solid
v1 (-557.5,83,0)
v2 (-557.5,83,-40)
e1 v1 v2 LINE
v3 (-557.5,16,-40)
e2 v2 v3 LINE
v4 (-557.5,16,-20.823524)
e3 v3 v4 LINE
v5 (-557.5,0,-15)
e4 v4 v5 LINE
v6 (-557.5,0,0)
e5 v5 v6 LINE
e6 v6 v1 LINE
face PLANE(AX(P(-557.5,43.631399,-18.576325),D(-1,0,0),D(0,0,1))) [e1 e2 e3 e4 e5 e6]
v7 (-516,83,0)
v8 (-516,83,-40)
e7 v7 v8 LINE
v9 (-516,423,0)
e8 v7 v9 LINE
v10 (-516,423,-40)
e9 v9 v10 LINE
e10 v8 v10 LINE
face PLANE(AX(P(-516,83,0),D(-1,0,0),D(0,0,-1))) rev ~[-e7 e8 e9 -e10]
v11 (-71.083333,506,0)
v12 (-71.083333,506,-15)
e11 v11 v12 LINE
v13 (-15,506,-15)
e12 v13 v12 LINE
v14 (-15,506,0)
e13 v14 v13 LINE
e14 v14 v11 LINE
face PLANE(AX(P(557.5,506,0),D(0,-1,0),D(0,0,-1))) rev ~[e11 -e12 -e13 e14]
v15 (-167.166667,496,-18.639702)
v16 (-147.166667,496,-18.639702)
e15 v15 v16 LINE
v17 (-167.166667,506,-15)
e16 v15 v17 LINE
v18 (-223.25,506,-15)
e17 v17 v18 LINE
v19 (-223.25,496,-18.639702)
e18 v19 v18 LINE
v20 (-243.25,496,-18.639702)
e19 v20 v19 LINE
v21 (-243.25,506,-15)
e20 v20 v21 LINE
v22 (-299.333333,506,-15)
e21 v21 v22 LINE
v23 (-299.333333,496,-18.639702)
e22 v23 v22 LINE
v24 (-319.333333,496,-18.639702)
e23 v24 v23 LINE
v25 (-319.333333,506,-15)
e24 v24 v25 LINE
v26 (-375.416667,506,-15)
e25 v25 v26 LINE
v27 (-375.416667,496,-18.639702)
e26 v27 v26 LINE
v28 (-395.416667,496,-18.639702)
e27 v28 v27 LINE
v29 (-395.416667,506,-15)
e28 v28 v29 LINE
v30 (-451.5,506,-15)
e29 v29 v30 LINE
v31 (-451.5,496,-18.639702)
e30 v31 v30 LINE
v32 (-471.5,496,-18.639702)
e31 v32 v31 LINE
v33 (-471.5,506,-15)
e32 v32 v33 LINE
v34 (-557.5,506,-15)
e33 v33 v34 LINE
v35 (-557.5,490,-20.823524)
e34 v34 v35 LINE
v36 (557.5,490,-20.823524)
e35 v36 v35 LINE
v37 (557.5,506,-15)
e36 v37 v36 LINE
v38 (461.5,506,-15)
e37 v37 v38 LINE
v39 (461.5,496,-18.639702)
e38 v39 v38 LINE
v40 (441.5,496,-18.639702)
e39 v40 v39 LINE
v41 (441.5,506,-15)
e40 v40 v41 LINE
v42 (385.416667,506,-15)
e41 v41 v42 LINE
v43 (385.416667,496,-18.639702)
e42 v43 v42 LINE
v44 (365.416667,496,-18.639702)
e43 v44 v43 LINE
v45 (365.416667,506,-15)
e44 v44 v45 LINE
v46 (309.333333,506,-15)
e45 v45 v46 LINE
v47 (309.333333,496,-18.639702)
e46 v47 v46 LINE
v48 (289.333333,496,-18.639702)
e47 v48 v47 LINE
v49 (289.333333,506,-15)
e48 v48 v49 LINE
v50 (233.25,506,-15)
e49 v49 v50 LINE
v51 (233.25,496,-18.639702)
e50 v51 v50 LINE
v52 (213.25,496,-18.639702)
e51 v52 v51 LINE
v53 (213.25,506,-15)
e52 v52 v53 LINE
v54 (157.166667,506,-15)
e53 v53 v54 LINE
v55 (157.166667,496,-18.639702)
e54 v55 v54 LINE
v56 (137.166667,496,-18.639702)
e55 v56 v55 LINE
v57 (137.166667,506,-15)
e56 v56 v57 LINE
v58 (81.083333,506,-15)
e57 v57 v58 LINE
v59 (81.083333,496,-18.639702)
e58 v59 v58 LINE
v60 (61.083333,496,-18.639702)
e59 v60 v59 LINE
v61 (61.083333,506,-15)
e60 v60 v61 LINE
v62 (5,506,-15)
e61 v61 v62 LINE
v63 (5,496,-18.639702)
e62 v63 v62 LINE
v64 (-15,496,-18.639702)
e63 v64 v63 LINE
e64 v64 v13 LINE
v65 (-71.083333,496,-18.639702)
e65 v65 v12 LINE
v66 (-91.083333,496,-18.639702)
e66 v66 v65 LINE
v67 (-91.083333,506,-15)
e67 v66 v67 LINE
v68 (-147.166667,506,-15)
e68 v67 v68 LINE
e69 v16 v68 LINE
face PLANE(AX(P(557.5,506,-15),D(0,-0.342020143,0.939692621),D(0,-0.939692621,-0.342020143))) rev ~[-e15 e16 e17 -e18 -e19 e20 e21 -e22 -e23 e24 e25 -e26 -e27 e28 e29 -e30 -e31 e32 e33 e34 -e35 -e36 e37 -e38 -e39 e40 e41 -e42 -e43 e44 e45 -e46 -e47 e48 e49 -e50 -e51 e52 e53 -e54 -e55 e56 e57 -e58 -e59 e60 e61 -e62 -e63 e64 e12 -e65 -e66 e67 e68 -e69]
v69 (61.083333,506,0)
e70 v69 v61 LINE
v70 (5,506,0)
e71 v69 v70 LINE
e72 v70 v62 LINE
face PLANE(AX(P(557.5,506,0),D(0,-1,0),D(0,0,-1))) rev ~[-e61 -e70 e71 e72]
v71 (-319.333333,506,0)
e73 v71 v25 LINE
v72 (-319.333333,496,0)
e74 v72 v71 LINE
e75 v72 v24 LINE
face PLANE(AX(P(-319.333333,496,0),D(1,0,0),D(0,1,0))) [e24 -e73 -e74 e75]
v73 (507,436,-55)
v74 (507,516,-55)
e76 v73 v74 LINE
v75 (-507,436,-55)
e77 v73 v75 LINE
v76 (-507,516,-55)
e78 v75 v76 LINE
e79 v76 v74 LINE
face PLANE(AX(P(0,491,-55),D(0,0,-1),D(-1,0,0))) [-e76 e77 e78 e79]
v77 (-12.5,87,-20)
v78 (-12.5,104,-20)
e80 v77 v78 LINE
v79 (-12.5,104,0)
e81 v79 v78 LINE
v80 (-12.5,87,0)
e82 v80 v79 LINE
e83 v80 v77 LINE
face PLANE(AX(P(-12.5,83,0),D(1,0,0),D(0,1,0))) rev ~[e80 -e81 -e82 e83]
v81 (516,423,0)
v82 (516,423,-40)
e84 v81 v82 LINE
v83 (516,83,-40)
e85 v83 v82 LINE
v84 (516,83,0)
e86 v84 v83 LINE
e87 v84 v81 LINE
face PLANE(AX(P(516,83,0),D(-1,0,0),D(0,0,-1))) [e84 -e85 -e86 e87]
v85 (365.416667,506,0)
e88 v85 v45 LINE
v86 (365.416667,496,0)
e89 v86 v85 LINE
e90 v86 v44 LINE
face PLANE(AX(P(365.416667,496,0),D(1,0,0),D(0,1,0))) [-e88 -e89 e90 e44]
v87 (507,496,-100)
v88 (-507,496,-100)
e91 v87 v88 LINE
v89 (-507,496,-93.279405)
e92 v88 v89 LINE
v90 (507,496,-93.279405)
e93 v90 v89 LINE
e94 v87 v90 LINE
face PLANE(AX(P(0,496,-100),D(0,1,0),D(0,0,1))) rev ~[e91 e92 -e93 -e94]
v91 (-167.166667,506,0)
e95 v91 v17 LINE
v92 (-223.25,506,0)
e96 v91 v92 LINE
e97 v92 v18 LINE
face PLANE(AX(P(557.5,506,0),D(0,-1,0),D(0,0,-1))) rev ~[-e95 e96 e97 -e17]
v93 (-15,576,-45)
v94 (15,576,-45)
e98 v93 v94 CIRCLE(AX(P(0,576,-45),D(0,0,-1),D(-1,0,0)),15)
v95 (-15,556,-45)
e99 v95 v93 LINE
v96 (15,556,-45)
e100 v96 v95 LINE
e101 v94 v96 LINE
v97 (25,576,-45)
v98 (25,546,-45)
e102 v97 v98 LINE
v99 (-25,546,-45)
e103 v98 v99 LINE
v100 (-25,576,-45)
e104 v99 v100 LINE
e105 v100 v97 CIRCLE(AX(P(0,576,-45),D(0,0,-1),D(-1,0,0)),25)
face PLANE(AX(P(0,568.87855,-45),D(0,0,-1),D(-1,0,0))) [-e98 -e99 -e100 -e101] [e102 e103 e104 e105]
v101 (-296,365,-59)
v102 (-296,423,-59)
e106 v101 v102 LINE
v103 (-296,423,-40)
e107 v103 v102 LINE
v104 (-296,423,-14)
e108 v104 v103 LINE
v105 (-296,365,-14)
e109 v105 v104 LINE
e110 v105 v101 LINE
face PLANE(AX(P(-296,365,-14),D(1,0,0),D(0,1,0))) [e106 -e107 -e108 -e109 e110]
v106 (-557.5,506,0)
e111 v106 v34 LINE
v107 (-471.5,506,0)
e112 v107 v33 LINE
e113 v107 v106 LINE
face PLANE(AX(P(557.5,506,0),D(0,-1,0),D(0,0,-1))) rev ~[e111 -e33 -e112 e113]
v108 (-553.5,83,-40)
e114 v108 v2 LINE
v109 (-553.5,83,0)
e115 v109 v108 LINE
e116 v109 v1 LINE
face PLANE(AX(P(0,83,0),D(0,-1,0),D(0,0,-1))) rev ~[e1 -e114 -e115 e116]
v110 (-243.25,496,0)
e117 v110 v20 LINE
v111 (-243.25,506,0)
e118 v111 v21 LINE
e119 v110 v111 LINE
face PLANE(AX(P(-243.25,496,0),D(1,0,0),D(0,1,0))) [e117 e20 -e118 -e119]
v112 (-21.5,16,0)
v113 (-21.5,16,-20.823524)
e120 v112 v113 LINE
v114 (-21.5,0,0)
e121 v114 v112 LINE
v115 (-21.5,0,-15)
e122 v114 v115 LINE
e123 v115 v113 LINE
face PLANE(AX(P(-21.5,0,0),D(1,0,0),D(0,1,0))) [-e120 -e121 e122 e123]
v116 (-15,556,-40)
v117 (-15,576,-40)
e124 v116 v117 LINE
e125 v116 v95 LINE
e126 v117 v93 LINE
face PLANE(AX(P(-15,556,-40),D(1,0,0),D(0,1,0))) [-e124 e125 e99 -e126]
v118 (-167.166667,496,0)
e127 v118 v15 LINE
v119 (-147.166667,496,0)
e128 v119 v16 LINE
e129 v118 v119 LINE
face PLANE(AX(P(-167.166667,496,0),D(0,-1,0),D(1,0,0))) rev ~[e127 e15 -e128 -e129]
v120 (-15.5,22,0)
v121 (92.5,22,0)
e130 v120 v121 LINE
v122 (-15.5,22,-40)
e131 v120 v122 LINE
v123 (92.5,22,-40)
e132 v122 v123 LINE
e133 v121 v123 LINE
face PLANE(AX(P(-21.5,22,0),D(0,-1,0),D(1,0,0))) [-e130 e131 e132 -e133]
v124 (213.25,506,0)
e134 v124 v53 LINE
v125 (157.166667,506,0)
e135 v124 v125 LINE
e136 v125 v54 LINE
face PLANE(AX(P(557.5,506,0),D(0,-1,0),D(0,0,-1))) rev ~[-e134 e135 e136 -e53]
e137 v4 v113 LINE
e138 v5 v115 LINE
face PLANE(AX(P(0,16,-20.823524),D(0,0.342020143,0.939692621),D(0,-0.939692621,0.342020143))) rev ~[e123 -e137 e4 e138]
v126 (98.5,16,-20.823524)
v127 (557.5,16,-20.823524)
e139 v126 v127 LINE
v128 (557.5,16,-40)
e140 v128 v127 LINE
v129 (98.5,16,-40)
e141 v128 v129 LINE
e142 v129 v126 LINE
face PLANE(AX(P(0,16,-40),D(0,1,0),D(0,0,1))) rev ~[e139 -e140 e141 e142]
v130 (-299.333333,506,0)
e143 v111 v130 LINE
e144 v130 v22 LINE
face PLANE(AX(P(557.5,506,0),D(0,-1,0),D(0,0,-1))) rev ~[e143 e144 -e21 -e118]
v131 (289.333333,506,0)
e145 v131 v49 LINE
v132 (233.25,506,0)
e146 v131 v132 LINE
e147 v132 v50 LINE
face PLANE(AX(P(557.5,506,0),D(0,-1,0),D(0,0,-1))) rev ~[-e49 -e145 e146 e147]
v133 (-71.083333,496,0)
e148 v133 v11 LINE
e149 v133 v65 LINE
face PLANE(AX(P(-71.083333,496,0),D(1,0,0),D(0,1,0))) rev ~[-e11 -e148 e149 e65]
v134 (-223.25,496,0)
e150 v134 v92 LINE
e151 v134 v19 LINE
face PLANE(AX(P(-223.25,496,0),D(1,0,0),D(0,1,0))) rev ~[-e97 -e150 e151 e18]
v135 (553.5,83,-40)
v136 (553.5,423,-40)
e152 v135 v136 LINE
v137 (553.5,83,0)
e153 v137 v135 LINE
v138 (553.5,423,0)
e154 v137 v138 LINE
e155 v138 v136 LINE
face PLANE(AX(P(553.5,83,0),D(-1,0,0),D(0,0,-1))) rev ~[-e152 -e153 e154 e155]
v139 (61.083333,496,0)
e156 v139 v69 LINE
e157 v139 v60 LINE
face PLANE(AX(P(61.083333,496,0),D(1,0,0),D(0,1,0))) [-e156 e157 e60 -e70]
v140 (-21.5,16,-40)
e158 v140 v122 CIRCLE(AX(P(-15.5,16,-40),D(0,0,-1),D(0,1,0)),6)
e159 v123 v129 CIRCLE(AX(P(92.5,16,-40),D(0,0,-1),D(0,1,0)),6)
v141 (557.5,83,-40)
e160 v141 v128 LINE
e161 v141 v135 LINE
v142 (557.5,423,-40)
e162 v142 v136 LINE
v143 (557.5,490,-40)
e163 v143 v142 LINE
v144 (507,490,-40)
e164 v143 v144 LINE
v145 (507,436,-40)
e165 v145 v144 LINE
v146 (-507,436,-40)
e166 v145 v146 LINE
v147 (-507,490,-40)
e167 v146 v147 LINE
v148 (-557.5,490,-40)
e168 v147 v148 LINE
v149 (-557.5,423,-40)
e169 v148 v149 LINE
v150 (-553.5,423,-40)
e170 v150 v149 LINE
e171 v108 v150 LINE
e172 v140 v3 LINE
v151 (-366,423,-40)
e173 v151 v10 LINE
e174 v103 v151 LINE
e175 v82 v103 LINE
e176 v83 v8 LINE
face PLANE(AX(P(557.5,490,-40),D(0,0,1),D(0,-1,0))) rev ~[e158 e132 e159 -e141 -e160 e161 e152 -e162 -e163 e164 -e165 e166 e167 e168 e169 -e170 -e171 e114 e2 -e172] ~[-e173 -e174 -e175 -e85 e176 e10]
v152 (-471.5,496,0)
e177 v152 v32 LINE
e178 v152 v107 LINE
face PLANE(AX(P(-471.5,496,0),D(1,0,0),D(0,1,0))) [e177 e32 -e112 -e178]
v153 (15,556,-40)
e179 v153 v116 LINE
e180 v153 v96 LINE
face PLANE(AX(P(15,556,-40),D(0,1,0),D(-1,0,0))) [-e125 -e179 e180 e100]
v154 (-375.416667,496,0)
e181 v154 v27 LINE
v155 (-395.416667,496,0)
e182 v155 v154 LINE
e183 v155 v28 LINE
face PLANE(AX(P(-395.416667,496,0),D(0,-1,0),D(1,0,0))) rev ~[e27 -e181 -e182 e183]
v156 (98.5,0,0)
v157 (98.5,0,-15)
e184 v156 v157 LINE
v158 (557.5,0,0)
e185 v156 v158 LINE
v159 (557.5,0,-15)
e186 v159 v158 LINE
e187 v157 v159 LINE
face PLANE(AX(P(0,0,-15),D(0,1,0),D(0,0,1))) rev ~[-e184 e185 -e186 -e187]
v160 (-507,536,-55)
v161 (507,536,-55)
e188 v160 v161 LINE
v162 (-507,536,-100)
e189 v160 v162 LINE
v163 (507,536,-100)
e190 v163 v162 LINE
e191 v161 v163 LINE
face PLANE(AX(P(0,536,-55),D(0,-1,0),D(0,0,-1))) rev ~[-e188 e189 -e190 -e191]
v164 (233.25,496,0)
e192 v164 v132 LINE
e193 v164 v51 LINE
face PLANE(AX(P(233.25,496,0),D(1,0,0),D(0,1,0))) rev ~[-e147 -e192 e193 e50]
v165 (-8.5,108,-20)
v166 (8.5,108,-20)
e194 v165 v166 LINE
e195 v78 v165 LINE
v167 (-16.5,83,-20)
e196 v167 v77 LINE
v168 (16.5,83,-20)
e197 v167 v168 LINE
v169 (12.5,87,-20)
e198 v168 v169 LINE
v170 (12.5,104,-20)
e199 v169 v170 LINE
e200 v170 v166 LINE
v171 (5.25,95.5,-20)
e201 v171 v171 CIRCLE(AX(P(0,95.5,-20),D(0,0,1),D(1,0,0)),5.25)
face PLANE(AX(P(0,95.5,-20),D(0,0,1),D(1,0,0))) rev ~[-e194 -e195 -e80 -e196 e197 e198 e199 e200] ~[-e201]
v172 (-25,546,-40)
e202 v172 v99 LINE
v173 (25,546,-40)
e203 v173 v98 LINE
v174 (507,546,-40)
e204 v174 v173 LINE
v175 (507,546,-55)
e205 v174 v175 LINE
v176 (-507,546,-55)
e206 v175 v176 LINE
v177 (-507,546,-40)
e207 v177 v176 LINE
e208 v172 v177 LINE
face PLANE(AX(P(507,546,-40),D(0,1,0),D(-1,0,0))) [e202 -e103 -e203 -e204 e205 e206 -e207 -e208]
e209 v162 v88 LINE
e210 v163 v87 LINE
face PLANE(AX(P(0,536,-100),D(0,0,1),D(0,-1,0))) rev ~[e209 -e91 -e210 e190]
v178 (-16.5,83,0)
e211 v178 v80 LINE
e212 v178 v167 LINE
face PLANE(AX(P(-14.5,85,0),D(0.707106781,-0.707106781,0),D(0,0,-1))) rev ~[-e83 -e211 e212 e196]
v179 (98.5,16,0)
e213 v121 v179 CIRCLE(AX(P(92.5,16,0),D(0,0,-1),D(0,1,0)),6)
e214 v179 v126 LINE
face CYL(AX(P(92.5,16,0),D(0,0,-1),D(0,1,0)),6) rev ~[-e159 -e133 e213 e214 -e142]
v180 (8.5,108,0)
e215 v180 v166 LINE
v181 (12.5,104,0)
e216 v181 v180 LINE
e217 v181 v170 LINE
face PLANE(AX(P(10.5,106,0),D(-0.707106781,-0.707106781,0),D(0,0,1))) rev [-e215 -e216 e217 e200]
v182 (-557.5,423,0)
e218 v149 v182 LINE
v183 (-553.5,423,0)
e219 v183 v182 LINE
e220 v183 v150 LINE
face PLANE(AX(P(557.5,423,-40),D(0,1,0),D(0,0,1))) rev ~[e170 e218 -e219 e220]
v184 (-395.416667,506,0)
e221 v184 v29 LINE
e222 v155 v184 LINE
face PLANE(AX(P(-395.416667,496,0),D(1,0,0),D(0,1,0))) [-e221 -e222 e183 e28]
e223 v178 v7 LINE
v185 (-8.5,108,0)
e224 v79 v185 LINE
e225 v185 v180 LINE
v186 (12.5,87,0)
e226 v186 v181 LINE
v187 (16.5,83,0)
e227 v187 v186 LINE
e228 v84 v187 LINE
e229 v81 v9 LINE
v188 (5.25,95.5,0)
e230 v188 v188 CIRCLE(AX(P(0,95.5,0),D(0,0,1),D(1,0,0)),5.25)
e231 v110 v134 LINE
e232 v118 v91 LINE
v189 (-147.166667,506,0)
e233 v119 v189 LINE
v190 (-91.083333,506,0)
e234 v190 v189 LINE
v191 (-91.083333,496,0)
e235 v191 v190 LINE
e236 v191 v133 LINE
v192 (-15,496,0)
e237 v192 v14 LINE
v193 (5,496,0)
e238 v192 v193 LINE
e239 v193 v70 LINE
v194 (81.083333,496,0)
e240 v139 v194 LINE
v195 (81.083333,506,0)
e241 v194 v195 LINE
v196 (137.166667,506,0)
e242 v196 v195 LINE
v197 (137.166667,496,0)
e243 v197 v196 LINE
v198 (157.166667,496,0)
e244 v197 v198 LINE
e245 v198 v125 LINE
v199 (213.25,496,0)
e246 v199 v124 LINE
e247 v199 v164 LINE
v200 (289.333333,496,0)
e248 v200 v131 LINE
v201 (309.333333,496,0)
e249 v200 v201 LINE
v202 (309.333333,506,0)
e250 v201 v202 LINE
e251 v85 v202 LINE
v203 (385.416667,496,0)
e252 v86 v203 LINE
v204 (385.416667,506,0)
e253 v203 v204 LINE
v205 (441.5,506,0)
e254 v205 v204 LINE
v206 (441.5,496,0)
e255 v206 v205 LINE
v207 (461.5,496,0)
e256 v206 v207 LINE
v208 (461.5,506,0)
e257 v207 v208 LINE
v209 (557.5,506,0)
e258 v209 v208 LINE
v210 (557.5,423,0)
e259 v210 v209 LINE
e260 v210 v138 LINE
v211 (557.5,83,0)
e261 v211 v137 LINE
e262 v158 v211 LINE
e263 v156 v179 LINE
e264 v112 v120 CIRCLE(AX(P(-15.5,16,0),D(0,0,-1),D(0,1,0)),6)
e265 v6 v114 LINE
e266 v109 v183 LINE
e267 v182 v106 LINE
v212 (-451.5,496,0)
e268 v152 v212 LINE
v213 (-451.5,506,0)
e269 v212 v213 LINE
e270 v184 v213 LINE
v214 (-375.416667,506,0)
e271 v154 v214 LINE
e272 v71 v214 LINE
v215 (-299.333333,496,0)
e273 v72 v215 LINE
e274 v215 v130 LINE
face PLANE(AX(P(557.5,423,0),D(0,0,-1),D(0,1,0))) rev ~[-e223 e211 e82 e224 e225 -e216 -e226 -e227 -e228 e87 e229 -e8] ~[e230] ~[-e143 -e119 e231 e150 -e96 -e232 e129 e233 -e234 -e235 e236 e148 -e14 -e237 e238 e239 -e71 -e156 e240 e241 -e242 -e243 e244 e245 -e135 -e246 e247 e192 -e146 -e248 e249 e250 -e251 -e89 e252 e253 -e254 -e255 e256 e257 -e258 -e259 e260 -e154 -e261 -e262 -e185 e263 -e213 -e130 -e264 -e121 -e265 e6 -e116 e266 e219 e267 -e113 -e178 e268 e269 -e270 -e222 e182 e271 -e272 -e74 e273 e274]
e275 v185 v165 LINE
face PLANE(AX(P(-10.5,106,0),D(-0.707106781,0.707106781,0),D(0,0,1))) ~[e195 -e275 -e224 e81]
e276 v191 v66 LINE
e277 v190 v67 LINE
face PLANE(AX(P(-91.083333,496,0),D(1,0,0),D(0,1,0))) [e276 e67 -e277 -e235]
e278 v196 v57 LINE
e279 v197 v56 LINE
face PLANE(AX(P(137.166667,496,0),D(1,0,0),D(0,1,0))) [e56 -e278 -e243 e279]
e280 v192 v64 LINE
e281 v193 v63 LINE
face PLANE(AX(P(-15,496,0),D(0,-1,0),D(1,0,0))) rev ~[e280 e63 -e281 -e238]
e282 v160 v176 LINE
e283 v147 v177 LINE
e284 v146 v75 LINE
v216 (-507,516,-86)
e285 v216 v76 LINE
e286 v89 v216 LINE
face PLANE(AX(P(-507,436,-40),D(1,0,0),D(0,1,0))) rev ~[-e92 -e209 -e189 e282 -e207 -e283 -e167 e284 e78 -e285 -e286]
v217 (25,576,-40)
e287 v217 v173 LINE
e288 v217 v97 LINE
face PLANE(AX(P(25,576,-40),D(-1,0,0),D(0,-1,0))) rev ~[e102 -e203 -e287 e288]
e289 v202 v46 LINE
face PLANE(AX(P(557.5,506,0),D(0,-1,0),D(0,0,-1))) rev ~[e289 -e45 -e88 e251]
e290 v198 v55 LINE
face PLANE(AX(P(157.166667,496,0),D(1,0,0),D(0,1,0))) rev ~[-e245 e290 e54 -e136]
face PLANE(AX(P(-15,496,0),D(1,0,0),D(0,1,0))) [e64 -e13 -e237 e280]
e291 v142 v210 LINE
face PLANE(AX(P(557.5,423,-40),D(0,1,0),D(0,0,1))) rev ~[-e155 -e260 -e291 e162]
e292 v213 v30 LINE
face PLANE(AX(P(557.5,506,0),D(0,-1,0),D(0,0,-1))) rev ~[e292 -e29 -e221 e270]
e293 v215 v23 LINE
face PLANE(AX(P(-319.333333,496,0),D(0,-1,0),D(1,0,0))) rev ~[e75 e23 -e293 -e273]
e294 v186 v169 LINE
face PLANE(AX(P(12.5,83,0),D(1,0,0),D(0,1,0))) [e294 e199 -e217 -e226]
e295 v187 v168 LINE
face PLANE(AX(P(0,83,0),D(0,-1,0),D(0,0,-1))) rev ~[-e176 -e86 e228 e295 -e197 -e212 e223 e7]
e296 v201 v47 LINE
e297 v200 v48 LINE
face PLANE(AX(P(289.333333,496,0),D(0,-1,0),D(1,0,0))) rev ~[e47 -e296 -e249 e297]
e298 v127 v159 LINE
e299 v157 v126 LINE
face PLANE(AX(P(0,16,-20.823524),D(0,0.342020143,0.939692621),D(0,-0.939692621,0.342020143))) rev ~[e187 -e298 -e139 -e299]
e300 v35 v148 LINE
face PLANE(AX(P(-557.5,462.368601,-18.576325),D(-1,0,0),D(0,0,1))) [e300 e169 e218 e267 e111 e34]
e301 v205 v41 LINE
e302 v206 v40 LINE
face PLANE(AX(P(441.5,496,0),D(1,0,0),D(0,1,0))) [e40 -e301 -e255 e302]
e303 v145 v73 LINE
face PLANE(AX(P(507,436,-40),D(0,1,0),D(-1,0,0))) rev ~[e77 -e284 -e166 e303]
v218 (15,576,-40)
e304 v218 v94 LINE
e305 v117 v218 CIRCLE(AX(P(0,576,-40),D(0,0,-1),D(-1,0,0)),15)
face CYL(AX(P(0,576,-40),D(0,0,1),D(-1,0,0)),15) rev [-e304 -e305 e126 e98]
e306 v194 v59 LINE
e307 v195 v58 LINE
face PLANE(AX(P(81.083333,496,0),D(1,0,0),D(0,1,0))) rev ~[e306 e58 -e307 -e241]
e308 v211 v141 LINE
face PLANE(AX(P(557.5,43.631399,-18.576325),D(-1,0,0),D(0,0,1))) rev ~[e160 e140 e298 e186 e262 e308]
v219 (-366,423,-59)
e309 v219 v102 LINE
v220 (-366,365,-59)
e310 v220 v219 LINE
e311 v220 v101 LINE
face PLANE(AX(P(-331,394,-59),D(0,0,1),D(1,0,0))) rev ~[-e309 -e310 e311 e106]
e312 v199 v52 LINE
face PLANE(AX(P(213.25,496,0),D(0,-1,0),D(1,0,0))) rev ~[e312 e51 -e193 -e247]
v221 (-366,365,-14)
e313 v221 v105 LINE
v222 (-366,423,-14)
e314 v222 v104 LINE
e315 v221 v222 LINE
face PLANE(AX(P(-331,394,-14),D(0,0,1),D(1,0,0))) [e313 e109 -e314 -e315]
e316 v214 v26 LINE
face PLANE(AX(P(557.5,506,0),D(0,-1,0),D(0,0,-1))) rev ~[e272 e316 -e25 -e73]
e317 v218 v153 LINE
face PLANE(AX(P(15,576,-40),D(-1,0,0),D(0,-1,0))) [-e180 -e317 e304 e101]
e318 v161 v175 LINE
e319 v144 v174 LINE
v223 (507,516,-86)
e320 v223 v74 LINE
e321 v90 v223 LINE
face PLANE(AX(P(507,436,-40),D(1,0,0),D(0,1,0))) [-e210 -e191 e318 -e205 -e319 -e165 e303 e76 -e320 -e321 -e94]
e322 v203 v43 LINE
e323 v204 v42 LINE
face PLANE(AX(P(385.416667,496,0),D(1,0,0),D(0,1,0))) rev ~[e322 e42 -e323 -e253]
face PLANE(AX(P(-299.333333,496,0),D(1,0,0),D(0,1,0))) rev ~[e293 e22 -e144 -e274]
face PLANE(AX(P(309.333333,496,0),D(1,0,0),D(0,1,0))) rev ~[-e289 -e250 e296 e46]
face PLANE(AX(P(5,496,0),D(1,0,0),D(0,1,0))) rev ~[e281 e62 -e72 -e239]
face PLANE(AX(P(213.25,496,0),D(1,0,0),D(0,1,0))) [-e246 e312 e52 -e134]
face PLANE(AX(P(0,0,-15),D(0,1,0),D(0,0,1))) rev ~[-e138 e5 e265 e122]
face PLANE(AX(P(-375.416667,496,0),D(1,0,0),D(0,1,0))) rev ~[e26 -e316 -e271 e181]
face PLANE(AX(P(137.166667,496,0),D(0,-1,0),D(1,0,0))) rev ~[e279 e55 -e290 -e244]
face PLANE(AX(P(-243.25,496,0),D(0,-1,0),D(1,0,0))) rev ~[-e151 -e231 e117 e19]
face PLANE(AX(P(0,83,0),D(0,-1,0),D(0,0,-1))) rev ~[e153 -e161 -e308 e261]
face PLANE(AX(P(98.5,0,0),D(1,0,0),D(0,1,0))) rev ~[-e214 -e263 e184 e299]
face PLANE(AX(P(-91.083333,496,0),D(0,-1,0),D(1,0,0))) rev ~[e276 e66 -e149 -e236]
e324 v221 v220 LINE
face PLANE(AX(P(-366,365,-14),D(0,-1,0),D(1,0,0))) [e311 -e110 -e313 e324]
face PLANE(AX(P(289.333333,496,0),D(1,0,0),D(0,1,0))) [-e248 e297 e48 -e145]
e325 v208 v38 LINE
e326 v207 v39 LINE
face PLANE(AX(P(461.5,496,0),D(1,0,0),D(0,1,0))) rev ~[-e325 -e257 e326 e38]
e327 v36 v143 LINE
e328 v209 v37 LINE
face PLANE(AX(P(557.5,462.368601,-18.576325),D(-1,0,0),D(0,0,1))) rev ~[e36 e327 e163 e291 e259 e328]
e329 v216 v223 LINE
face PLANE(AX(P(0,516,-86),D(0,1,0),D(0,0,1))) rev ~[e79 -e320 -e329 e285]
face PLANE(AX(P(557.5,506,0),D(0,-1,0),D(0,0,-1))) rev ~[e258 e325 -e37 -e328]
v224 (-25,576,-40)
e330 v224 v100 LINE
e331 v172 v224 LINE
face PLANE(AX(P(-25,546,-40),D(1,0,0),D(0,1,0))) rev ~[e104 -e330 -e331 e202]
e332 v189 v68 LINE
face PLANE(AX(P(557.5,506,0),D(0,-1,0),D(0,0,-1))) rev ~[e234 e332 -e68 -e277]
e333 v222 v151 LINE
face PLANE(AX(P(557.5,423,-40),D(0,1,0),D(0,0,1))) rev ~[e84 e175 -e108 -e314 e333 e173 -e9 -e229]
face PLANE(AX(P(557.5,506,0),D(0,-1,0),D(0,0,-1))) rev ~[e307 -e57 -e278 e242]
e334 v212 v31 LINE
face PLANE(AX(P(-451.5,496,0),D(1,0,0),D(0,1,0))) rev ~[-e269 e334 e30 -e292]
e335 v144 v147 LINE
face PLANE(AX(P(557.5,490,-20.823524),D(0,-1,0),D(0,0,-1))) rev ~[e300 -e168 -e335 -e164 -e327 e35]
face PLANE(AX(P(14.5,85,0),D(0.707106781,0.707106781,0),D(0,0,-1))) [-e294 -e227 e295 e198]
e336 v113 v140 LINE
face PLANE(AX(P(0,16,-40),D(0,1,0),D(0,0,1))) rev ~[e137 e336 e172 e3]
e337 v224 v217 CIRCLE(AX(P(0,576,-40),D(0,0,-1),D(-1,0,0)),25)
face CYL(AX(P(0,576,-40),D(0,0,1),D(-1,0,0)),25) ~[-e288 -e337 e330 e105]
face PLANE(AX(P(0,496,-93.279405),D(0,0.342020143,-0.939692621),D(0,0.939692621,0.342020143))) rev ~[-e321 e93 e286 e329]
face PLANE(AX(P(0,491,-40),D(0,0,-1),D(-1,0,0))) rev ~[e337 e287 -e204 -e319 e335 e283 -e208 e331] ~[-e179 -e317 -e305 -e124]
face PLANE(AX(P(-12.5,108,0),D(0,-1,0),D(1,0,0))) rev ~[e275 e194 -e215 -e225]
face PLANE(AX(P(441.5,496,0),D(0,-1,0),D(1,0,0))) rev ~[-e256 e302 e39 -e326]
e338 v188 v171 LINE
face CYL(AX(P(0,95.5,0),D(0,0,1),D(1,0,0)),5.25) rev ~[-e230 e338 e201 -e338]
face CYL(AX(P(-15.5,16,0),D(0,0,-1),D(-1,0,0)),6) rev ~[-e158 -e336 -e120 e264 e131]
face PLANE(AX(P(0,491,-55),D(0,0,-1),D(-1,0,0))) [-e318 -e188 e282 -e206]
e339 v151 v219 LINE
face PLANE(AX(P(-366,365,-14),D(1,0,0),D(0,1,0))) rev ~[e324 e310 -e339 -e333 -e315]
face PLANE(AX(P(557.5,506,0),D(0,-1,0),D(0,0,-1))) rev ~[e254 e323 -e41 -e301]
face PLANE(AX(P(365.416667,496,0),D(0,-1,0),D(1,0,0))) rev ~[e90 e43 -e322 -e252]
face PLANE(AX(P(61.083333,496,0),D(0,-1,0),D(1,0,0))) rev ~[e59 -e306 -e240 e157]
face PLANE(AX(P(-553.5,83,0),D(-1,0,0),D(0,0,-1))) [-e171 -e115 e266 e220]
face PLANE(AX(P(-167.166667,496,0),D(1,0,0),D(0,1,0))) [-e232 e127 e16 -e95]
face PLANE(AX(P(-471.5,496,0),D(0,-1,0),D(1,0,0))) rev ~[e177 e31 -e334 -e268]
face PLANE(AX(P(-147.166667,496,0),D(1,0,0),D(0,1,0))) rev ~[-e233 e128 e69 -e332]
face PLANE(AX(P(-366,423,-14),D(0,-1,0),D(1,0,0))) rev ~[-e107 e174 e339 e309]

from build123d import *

# Parameters (mm, degrees)
BOSS_EXTRUDE1_DEPTH  = 557.5
SKETCH2_W            = 37.5
SKETCH2_H            = 40
BOSS_EXTRUDE2_DEPTH  = 340
BOSS_EXTRUDE3_DEPTH  = 1115
SKETCH4_W            = 120
SKETCH4_H            = 22
CUT_EXTRUDE1_DEPTH   = 754.951092578
FILLET1_R            = 6
SKETCH8_W            = 20
SKETCH8_H            = 10
CUT_EXTRUDE3_DEPTH   = 754.951092578
SKETCH9_W            = 25
SKETCH9_H            = 25
SKETCH9_R            = 5.25
BOSS_EXTRUDE6_DEPTH  = 20
CHAMFER1_SIZE        = 4
SKETCH10_W           = 1014
SKETCH10_H           = 110
BOSS_EXTRUDE7_DEPTH  = 15
BOSS_EXTRUDE8_DEPTH  = 507
BOSS_EXTRUDE9_DEPTH  = 5
BOSS_EXTRUDE10_START = -14
SKETCH13_W           = 70
SKETCH13_H           = 58
BOSS_EXTRUDE10_DEPTH = 45


with BuildPart() as part:
    # Sketch1 → Boss-Extrude1 (new, symmetric)
    with BuildSketch(Plane(origin=(0, 0, 0), x_dir=(0, 0, -1), z_dir=(1, 0, 0))):
        Polygon((0, 0), (0, 83), (40, 83), (40, 16), (20.823523748, 16), (15, 0), align=None)
    extrude(amount=BOSS_EXTRUDE1_DEPTH, both=True)

    # Sketch2 → Boss-Extrude2 (add)
    with BuildSketch(Plane(origin=(0, 83, 0), x_dir=(1, 0, 0), z_dir=(0, 1, 0))):
        with Locations((-534.75, 20)):
            Rectangle(SKETCH2_W, SKETCH2_H)
        with Locations((534.75, 20)):
            Rectangle(SKETCH2_W, SKETCH2_H)
    extrude(amount=BOSS_EXTRUDE2_DEPTH)

    # Sketch3 → Boss-Extrude3 (add)
    with BuildSketch(Plane(origin=(557.5, 0, 0), x_dir=(0, 0, -1), z_dir=(1, 0, 0))):
        Polygon((0, 423), (0, 506), (15, 506), (20.823523748, 490), (40, 490), (40, 423), align=None)
    extrude(amount=-BOSS_EXTRUDE3_DEPTH)

    # Sketch4 → Cut-Extrude1 (cut, through all)
    with BuildSketch(Plane.XY):
        with Locations((38.5, 11)):
            Rectangle(SKETCH4_W, SKETCH4_H)
    extrude(amount=-CUT_EXTRUDE1_DEPTH, mode=Mode.SUBTRACT)

    # Fillet1
    fillet1_edges = [part.edges().sort_by_distance(p)[0] for p in [
        (98.5, 22, -20),
        (-21.5, 22, -20),
    ]]
    fillet(fillet1_edges, radius=FILLET1_R)

    # Sketch8 → Cut-Extrude3 (cut, through all)
    with BuildSketch(Plane.XY):
        with Locations((-461.5, 501)):
            Rectangle(SKETCH8_W, SKETCH8_H)
        with Locations((-385.416666667, 501)):
            Rectangle(SKETCH8_W, SKETCH8_H)
        with Locations((-309.333333333, 501)):
            Rectangle(SKETCH8_W, SKETCH8_H)
        with Locations((-233.25, 501)):
            Rectangle(SKETCH8_W, SKETCH8_H)
        with Locations((-157.166666667, 501)):
            Rectangle(SKETCH8_W, SKETCH8_H)
        with Locations((-81.083333333, 501)):
            Rectangle(SKETCH8_W, SKETCH8_H)
        with Locations((-5, 501)):
            Rectangle(SKETCH8_W, SKETCH8_H)
        with Locations((71.083333333, 501)):
            Rectangle(SKETCH8_W, SKETCH8_H)
        with Locations((147.166666667, 501)):
            Rectangle(SKETCH8_W, SKETCH8_H)
        with Locations((223.25, 501)):
            Rectangle(SKETCH8_W, SKETCH8_H)
        with Locations((299.333333333, 501)):
            Rectangle(SKETCH8_W, SKETCH8_H)
        with Locations((375.416666667, 501)):
            Rectangle(SKETCH8_W, SKETCH8_H)
        with Locations((451.5, 501)):
            Rectangle(SKETCH8_W, SKETCH8_H)
    extrude(amount=-CUT_EXTRUDE3_DEPTH, mode=Mode.SUBTRACT)

    # Sketch9 → Boss-Extrude6 (add)
    with BuildSketch(Plane.XY):
        with Locations((0, 95.5)):
            Rectangle(SKETCH9_W, SKETCH9_H)
        with Locations((0, 95.5)):
            Circle(SKETCH9_R, mode=Mode.SUBTRACT)
    extrude(amount=-BOSS_EXTRUDE6_DEPTH)

    # Chamfer1
    chamfer1_edges = [part.edges().sort_by_distance(p)[0] for p in [
        (-12.5, 83, -10),
        (-12.5, 108, -10),
        (12.5, 108, -10),
        (12.5, 83, -10),
    ]]
    chamfer(chamfer1_edges, length=CHAMFER1_SIZE)

    # Sketch10 → Boss-Extrude7 (add)
    with BuildSketch(Plane(origin=(0, 0, -40), x_dir=(-1, 0, 0), z_dir=(0, 0, -1))):
        with Locations((0, 491)):
            Rectangle(SKETCH10_W, SKETCH10_H)
    extrude(amount=BOSS_EXTRUDE7_DEPTH)

    # Sketch11 → Boss-Extrude8 (add, symmetric)
    with BuildSketch(Plane(origin=(0, 0, 0), x_dir=(0, 0, -1), z_dir=(1, 0, 0))):
        Polygon((55, 536), (100, 536), (100, 496), (93.279404685, 496), (86, 516), (55, 516), align=None)
    extrude(amount=BOSS_EXTRUDE8_DEPTH, both=True)

    # Sketch12 → Boss-Extrude9 (add)
    with BuildSketch(Plane.XY.offset(-40)):
        with BuildLine():
            Line((-25, 546), (-25, 576))
            ThreePointArc((-25, 576), (0, 601), (25, 576))
            Line((25, 576), (25, 546))
            Line((25, 546), (-25, 546))
        make_face()
        with BuildLine():
            Line((-15, 556), (-15, 576))
            ThreePointArc((-15, 576), (0, 591), (15, 576))
            Line((15, 576), (15, 556))
            Line((15, 556), (-15, 556))
        make_face(mode=Mode.SUBTRACT)
    extrude(amount=-BOSS_EXTRUDE9_DEPTH)

    # Sketch13 → Boss-Extrude10 (add)
    with BuildSketch(Plane.XY.offset(BOSS_EXTRUDE10_START)):
        with Locations((-331, 394)):
            Rectangle(SKETCH13_W, SKETCH13_H)
    extrude(amount=-BOSS_EXTRUDE10_DEPTH)


solid = part.part
